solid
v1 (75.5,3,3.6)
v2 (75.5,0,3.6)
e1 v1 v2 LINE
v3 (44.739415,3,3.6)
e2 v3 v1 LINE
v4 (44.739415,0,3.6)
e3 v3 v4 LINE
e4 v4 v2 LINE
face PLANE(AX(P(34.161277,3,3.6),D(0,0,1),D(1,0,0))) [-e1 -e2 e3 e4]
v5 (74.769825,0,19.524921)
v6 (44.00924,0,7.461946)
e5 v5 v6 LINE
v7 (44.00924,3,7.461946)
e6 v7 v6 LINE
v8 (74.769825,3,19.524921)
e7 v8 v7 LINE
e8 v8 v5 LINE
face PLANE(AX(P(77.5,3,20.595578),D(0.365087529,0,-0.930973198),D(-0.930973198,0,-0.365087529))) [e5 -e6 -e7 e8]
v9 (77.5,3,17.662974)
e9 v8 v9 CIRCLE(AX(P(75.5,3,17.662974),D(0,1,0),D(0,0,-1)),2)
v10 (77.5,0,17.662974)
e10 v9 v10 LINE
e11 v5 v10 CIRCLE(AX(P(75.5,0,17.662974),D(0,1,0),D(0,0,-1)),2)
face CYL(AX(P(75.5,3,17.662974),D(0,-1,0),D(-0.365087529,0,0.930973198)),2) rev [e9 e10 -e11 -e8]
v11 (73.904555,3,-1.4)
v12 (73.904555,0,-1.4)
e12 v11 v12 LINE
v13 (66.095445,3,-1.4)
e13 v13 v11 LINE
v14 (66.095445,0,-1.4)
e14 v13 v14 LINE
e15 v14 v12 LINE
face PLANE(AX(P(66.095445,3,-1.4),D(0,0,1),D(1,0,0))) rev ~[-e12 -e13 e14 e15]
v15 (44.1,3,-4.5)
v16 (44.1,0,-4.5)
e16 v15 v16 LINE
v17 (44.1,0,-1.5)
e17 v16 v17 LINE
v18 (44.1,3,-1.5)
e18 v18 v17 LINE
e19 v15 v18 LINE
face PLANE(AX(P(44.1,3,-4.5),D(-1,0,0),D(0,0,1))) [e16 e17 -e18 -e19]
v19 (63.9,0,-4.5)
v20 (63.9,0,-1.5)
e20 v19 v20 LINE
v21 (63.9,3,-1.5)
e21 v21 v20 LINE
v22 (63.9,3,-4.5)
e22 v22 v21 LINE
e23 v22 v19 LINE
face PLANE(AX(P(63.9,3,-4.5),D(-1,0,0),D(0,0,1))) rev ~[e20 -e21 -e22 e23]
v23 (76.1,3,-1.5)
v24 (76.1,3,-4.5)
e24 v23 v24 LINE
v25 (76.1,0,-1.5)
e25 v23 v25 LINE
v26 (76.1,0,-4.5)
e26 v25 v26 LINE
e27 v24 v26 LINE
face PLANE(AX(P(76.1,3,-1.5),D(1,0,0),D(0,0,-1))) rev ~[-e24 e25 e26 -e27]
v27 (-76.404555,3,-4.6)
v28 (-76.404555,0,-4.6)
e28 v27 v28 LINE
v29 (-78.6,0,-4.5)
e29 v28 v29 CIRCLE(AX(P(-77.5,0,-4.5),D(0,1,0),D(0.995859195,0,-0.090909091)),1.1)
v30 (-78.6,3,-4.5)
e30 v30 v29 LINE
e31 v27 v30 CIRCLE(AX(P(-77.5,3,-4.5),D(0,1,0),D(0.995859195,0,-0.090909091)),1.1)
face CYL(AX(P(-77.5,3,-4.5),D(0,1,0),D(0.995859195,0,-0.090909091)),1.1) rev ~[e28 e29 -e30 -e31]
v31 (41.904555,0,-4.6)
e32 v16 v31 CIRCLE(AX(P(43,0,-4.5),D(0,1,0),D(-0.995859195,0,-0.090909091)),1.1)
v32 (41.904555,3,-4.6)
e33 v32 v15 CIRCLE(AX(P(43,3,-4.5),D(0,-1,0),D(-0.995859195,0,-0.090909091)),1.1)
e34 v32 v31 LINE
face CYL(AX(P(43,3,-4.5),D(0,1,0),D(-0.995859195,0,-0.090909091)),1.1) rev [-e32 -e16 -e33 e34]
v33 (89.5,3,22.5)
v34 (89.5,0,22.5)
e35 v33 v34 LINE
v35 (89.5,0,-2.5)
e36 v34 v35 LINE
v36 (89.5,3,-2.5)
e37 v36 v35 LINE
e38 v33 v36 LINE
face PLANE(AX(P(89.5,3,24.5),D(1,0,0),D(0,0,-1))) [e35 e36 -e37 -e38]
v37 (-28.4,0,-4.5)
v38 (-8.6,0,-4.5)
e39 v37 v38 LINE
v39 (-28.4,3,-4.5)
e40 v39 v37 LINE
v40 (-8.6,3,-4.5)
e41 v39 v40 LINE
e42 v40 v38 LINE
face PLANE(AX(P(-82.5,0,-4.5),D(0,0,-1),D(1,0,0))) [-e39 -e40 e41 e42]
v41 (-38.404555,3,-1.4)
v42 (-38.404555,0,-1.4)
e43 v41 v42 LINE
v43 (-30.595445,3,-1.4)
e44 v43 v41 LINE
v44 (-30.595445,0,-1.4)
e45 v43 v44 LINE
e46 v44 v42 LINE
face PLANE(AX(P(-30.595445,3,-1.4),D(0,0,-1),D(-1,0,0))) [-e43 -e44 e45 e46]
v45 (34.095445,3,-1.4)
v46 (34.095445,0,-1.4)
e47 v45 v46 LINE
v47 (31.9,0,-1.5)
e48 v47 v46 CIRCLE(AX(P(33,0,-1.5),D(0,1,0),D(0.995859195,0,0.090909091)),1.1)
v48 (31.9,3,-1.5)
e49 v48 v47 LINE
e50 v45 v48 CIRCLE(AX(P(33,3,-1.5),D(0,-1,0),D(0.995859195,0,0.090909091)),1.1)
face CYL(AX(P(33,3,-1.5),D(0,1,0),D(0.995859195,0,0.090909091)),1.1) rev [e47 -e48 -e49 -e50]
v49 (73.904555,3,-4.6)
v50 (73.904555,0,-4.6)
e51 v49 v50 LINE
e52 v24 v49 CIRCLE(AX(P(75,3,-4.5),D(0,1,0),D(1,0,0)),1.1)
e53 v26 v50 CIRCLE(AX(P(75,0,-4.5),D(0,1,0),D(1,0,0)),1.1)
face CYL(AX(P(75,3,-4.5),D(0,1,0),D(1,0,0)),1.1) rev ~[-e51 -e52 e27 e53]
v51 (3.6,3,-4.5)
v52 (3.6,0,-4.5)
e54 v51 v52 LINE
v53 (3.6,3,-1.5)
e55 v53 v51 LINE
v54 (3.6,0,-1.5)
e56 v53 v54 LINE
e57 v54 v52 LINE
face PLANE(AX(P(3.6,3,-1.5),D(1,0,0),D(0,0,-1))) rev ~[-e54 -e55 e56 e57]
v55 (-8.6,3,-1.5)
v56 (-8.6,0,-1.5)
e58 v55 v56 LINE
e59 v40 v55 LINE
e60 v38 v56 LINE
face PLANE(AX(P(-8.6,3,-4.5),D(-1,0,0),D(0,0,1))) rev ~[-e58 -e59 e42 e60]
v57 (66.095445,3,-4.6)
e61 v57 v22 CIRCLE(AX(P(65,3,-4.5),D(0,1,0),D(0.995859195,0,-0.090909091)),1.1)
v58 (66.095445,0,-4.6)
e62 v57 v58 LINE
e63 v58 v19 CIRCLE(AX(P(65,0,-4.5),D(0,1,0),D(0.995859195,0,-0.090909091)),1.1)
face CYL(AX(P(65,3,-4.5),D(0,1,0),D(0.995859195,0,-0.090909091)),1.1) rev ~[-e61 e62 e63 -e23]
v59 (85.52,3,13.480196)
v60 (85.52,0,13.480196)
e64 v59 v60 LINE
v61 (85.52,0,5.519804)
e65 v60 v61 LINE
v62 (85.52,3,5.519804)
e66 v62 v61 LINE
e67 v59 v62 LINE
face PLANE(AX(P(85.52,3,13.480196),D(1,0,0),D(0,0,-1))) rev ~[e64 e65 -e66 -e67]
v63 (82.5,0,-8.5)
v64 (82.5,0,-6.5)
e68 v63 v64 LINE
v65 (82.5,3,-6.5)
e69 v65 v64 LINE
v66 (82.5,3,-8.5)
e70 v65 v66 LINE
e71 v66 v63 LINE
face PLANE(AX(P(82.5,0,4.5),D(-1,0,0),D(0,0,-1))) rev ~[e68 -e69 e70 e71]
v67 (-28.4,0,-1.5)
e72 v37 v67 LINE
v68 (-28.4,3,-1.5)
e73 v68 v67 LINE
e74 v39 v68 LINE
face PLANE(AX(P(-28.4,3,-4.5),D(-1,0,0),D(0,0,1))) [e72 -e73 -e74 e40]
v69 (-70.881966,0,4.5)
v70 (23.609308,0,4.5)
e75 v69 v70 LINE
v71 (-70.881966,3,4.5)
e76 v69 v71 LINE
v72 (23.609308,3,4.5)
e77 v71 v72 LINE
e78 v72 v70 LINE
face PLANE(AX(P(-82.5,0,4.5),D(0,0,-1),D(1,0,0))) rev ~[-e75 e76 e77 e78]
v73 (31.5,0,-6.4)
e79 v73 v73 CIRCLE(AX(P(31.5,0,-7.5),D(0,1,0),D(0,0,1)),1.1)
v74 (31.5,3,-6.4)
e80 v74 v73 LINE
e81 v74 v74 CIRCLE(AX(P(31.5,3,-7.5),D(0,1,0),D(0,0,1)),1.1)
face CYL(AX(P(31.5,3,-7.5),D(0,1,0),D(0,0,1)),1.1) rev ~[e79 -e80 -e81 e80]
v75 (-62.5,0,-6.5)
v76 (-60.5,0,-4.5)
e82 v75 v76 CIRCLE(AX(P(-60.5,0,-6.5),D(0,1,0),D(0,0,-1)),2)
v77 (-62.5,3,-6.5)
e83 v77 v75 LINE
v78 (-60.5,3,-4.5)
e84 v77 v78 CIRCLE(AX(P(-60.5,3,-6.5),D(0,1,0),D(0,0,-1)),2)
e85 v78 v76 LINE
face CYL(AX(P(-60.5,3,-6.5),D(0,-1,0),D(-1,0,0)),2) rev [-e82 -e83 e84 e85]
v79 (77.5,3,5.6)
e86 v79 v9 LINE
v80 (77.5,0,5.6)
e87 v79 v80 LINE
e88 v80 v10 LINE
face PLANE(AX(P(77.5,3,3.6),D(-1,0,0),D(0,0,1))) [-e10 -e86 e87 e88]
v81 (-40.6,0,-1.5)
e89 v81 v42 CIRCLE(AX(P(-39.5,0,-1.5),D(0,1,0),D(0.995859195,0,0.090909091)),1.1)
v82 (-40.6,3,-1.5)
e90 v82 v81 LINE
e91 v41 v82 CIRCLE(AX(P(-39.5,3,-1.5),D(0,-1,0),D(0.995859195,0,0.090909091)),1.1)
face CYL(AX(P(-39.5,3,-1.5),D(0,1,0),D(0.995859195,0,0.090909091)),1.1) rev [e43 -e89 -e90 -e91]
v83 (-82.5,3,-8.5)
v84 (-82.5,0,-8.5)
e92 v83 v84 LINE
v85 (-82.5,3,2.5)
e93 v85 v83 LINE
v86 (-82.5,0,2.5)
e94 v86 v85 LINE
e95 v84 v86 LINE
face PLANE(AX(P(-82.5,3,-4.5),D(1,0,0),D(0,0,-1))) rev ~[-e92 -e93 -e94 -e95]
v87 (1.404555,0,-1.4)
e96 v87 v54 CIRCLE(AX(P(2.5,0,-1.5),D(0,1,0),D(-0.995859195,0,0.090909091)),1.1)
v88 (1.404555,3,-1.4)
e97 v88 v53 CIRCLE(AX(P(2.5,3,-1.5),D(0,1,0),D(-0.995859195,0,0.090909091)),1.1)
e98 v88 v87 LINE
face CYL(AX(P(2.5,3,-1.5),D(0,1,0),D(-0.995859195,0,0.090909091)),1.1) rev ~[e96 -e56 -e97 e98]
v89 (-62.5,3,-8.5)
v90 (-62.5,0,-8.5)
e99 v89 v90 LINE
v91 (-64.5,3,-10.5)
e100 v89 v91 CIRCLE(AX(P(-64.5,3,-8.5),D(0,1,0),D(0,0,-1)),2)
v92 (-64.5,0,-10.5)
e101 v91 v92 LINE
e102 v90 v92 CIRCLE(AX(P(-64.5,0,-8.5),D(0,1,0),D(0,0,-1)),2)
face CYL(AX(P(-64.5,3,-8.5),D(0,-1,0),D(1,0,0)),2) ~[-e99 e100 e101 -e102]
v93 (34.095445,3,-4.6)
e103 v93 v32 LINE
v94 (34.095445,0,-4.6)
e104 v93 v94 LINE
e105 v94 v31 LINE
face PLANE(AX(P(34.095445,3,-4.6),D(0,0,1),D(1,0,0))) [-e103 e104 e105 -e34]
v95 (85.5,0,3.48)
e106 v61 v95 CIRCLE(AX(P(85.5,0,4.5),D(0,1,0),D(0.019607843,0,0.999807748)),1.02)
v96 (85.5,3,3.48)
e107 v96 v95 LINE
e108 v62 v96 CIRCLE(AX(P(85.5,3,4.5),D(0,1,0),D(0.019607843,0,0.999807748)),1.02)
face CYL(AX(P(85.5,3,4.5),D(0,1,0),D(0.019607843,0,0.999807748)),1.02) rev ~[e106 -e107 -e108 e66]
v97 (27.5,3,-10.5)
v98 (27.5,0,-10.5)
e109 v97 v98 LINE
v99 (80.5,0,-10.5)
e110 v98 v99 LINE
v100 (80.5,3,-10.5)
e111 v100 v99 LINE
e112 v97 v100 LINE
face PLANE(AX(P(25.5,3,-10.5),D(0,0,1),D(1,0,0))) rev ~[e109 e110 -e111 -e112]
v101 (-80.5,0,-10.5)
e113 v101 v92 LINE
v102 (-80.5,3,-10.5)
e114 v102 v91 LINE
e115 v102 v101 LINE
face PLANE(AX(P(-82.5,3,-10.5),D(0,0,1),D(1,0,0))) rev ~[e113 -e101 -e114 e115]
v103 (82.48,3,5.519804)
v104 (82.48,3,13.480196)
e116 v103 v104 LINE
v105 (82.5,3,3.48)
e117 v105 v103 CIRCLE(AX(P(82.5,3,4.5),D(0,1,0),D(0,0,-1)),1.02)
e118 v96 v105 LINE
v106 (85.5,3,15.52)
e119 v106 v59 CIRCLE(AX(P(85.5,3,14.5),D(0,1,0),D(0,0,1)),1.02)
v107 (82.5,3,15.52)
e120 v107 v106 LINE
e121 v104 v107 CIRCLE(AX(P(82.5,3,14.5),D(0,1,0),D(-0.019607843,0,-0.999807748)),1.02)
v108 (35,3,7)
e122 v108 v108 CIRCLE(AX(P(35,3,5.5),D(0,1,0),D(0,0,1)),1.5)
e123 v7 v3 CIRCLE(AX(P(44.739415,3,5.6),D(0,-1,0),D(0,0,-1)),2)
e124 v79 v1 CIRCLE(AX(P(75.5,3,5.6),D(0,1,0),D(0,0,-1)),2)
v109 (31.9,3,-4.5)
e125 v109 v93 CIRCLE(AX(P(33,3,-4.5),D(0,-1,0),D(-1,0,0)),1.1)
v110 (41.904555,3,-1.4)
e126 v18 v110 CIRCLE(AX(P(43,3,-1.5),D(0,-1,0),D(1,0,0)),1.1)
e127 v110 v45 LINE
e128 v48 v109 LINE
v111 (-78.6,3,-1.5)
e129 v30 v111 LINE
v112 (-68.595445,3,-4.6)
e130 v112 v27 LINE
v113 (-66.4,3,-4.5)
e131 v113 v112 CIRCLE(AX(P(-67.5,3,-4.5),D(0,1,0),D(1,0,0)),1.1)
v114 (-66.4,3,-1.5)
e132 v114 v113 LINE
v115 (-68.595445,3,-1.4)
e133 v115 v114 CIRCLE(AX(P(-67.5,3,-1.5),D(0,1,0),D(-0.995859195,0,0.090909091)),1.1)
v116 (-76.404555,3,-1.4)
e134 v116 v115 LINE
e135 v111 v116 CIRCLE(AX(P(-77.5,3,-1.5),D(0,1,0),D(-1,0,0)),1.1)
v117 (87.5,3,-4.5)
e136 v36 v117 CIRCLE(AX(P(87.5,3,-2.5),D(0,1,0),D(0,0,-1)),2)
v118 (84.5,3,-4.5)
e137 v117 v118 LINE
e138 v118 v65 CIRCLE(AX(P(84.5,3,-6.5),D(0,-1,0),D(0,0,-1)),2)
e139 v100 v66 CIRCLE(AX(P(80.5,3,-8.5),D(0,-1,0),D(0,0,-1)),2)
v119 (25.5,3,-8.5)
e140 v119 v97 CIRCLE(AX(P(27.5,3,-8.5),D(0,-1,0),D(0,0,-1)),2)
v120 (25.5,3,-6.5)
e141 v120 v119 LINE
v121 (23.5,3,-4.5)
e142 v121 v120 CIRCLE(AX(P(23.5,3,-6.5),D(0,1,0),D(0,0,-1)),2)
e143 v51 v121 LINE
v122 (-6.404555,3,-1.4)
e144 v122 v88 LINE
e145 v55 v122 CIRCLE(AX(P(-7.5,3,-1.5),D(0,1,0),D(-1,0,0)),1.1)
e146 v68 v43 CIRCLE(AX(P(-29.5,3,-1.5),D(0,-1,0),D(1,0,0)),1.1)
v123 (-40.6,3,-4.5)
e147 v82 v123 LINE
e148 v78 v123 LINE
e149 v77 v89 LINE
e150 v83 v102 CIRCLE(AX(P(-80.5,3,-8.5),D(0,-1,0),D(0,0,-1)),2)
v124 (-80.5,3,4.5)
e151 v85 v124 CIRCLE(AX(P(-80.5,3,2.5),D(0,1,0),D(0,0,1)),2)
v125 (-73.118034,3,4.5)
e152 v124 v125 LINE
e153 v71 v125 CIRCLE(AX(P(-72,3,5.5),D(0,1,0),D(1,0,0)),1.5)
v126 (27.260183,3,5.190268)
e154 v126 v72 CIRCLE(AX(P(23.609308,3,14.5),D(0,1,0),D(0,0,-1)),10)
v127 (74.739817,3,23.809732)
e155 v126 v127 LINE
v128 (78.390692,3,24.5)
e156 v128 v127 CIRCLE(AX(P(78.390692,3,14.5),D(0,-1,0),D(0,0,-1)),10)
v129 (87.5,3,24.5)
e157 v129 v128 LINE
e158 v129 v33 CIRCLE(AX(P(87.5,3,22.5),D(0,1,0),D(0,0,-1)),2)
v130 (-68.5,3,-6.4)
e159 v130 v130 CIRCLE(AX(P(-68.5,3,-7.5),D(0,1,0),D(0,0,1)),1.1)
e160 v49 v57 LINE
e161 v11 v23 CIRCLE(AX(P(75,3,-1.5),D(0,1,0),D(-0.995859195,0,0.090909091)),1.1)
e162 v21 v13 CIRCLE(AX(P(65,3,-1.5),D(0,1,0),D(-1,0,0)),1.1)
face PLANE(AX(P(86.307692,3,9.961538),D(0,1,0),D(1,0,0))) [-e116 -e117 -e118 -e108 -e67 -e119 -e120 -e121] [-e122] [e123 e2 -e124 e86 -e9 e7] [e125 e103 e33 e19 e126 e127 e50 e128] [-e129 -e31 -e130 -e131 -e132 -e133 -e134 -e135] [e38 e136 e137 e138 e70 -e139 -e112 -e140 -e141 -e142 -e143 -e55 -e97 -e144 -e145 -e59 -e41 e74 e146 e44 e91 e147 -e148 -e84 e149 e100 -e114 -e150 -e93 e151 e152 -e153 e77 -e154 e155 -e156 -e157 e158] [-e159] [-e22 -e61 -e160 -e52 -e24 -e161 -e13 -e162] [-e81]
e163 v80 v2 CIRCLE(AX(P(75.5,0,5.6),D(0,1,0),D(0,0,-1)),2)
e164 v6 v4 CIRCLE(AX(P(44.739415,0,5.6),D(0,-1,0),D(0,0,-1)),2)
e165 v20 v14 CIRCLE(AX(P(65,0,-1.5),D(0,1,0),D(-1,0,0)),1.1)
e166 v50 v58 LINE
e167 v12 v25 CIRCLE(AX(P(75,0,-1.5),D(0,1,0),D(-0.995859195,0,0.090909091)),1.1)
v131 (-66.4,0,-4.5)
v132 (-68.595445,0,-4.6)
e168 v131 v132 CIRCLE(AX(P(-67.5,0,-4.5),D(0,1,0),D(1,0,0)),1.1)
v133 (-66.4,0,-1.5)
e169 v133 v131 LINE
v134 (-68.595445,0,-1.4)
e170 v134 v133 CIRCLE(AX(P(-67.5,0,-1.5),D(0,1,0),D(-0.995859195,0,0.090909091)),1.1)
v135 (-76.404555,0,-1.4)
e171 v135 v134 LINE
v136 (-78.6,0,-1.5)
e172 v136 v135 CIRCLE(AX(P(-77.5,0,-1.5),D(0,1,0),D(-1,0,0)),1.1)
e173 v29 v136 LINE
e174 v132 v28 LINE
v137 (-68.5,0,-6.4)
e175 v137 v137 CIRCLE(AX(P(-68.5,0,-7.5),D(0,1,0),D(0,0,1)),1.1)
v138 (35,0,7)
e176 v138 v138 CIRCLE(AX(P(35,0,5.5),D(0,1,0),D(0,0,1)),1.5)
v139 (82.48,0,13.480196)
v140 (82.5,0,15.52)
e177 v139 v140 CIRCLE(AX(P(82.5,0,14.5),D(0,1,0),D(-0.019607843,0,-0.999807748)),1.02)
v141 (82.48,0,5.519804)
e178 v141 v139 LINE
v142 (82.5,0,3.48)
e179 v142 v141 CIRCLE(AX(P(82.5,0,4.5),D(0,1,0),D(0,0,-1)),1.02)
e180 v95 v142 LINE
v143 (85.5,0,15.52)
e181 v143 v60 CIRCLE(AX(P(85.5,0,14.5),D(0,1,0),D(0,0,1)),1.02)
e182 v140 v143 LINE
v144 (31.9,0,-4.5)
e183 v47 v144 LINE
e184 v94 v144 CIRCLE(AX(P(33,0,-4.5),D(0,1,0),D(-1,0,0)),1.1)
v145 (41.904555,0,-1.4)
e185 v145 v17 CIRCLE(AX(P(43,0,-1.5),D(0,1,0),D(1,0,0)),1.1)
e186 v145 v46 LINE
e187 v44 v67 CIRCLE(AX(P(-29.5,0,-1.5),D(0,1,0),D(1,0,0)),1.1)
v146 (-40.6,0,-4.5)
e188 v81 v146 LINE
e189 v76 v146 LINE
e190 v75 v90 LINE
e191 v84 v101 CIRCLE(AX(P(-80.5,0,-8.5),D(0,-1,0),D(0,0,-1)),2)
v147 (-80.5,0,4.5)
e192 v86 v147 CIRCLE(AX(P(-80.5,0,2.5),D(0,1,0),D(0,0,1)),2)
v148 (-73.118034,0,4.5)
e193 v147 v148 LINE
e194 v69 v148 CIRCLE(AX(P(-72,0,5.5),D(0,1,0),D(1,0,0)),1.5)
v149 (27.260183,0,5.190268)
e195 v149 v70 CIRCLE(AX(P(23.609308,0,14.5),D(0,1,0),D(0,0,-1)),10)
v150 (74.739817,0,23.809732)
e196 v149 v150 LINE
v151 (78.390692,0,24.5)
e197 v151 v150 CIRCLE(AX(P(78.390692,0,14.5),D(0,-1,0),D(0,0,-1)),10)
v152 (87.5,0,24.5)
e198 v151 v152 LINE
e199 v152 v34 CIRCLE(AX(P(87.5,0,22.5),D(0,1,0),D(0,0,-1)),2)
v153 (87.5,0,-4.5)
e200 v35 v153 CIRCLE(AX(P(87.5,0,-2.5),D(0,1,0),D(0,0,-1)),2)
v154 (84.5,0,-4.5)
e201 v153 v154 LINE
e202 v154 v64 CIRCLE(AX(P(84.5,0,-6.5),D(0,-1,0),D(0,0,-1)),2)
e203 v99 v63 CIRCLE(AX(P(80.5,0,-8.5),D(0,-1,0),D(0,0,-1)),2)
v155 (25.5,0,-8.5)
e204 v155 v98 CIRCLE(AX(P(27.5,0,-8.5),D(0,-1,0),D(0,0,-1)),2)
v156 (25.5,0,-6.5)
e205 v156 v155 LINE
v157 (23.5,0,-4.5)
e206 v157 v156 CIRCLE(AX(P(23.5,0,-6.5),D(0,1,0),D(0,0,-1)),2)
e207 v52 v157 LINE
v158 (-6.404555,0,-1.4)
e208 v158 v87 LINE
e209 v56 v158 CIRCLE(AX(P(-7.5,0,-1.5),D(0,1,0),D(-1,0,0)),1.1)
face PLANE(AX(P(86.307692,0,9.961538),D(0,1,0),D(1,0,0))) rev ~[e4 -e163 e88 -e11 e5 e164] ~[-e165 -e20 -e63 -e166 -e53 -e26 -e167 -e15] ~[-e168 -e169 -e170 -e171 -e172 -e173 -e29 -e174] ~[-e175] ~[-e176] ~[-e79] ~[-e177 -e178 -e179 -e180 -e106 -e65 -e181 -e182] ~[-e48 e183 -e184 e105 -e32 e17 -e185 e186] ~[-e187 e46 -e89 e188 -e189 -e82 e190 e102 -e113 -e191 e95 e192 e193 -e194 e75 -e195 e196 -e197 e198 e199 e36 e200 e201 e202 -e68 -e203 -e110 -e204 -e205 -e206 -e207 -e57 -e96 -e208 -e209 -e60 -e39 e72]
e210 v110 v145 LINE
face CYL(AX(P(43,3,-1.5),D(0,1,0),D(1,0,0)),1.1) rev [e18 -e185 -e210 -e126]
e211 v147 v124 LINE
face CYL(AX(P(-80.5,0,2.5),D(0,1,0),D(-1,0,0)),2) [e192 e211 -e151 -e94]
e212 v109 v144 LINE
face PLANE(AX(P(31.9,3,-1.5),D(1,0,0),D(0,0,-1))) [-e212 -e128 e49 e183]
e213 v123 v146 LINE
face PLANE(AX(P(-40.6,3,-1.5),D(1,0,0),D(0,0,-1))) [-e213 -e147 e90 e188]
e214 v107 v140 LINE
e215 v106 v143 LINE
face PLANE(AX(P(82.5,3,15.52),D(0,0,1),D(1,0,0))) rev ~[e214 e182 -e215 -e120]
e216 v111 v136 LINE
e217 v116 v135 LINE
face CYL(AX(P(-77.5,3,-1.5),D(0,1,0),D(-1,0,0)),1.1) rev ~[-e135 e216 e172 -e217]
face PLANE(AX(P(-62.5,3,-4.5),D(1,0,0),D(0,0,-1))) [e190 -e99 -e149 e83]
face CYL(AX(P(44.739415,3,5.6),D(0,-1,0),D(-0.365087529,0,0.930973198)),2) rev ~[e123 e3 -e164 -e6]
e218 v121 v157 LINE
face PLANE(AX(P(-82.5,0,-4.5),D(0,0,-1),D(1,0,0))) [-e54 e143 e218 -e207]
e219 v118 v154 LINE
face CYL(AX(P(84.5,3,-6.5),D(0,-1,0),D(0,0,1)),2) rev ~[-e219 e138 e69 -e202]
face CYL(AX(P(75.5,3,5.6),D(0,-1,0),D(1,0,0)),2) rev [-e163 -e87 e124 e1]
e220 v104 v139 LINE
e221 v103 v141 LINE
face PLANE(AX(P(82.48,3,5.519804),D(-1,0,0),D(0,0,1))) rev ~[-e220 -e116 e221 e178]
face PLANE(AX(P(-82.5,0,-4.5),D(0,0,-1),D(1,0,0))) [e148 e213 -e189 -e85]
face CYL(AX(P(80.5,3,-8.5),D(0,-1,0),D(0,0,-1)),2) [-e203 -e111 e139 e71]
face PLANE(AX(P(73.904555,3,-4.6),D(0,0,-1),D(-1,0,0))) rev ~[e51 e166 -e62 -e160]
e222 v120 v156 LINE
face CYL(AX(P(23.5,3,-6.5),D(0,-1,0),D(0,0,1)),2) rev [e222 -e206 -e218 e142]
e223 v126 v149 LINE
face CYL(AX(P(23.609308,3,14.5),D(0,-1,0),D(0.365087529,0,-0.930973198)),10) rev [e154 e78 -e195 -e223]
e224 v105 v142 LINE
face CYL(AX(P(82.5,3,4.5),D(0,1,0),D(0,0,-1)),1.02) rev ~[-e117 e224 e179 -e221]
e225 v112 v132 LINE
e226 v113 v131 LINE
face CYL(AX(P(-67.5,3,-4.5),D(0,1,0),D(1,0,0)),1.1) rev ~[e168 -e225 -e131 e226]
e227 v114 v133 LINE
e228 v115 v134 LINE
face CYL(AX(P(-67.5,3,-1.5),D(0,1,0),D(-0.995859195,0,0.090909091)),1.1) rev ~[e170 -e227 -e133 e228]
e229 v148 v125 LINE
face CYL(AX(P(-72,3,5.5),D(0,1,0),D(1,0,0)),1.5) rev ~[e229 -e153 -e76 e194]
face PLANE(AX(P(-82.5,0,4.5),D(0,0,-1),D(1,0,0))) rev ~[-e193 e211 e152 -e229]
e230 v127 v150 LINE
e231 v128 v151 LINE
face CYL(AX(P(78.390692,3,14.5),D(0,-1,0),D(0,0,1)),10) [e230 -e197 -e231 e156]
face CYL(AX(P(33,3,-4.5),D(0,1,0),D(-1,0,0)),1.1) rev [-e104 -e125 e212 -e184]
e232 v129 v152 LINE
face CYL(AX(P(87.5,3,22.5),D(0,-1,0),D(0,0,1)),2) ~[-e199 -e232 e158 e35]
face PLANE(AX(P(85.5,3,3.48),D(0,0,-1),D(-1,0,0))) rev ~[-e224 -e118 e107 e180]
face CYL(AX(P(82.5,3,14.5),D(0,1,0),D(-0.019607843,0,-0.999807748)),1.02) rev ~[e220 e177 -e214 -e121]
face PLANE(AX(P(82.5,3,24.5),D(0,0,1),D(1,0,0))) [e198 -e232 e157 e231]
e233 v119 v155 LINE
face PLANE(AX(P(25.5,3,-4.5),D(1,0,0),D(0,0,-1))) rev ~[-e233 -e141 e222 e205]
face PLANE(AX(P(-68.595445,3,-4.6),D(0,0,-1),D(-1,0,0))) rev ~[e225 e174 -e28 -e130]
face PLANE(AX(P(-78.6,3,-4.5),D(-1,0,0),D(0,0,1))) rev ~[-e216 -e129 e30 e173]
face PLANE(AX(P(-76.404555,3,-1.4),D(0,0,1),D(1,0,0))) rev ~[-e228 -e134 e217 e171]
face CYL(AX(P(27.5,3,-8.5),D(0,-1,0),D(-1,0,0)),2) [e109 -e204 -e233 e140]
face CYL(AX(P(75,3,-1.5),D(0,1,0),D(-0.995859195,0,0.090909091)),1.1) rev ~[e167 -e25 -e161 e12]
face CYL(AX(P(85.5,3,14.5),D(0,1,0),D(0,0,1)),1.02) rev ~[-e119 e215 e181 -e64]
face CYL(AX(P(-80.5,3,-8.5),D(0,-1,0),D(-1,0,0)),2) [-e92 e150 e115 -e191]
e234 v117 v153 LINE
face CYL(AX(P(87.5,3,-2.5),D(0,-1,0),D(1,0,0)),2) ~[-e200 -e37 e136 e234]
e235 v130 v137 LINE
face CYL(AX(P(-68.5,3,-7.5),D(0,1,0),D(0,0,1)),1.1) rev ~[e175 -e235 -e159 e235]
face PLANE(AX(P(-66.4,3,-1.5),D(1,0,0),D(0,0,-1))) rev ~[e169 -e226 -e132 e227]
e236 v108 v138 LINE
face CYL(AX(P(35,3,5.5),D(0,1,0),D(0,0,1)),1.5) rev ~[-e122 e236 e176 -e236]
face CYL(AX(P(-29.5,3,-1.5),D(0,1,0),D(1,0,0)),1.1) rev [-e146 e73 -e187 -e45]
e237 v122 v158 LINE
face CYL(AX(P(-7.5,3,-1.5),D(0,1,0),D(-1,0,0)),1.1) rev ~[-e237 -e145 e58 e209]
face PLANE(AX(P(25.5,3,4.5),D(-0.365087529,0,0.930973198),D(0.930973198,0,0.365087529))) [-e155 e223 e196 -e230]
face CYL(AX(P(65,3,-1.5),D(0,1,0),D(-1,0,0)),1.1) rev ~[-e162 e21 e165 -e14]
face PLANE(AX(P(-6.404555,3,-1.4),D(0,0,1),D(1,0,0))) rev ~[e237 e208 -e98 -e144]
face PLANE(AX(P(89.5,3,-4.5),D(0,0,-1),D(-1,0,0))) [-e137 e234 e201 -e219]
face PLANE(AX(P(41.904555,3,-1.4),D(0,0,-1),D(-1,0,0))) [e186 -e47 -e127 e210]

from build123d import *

# Parameters (mm, degrees)
SKETCH_1_W             = 165
SKETCH_1_H             = 9
EXTRUDE_1_DEPTH        = 3
SKETCH_2_W             = 20
SKETCH_2_H             = 6
SKETCH_2_W_2           = 57
EXTRUDE_2_DEPTH        = 3
FILLET_1_R             = 2
SKETCH_3_W             = 12
SKETCH_3_H             = 3
CUT_EXTRUDE_1_DEPTH    = 87.113297463
SKETCH_5_R             = 1
CUT_EXTRUDE_3_DEPTH    = 87.113297463
EXTRUDE_4_DEPTH        = 3
SKETCH_10_R            = 1
CUT_EXTRUDE_5_DEPTH    = 93.841262378
CUT_EXTRUDE_6415_DEPTH = 93.841262378
FILLET_2_R             = 2
FILLET_3_R             = 10
CUT_EXTRUDE_6_DEPTH    = 93.841262378
FILLET_4_R             = 2
SKETCH_12_R            = 1.1
SKETCH_12_R_2          = 1.5
CUT_EXTRUDE_7_DEPTH    = 93.841262378


with BuildPart() as part:
    # 草图1 → 凸台-拉伸1 (new body)
    with BuildSketch(Plane(origin=(0, 0, 0), x_dir=(1, 0, 0), z_dir=(0, 1, 0))):
        Rectangle(SKETCH_1_W, SKETCH_1_H)
    extrude(amount=EXTRUDE_1_DEPTH)

    # 草图2 → 凸台-拉伸2 (add)
    with BuildSketch(Plane(origin=(0, 3, 0), x_dir=(1, 0, 0), z_dir=(0, 1, 0))):
        with Locations((-72.5, 7.5)):
            Rectangle(SKETCH_2_W, SKETCH_2_H)
        Polygon((82.5, -24.5), (82.5, -4.5), (25.5, -4.5), (76.5, -24.5), align=None)
        with Locations((54, 7.5)):
            Rectangle(SKETCH_2_W_2, SKETCH_2_H)
    extrude(amount=-EXTRUDE_2_DEPTH)

    # 圆角1
    fillet_1_edges = [part.edges().sort_by_distance(p)[0] for p in [
        (-82.5, 1.5, -10.5),
        (-62.5, 1.5, -10.5),
        (-62.5, 1.5, -4.5),
        (82.5, 1.5, -10.5),
        (25.5, 1.5, -4.5),
        (25.5, 1.5, -10.5),
        (-82.5, 1.5, 4.5),
    ]]
    fillet(fillet_1_edges, radius=FILLET_1_R)

    # 草图3 → 切除-拉伸1 (cut, through all)
    with BuildSketch(Plane(origin=(0, 3, 0), x_dir=(1, 0, 0), z_dir=(0, 1, 0))):
        with Locations((-72.5, 3)):
            Rectangle(SKETCH_3_W, SKETCH_3_H)
        with Locations((-34.5, 3)):
            Rectangle(SKETCH_3_W, SKETCH_3_H)
        with Locations((-2.5, 3)):
            Rectangle(SKETCH_3_W, SKETCH_3_H)
        with Locations((38, 3)):
            Rectangle(SKETCH_3_W, SKETCH_3_H)
        with Locations((70, 3)):
            Rectangle(SKETCH_3_W, SKETCH_3_H)
    extrude(amount=-CUT_EXTRUDE_1_DEPTH, mode=Mode.SUBTRACT)

    # 草图5 → 切除-拉伸3 (cut, through all)
    with BuildSketch(Plane(origin=(0, 3, 0), x_dir=(1, 0, 0), z_dir=(0, 1, 0))):
        with Locations((-67.5, 4.5)):
            Circle(SKETCH_5_R)
        with Locations((-67.5, 1.5)):
            Circle(SKETCH_5_R)
        with Locations((-77.5, 1.5)):
            Circle(SKETCH_5_R)
        with Locations((-77.5, 4.5)):
            Circle(SKETCH_5_R)
        with Locations((-29.5, 1.5)):
            Circle(SKETCH_5_R)
        with Locations((-39.5, 1.5)):
            Circle(SKETCH_5_R)
        with Locations((2.5, 1.5)):
            Circle(SKETCH_5_R)
        with Locations((-7.5, 1.5)):
            Circle(SKETCH_5_R)
        with Locations((33, 1.5)):
            Circle(SKETCH_5_R)
        with Locations((43, 1.5)):
            Circle(SKETCH_5_R)
        with Locations((43, 4.5)):
            Circle(SKETCH_5_R)
        with Locations((33, 4.5)):
            Circle(SKETCH_5_R)
        with Locations((75, 4.5)):
            Circle(SKETCH_5_R)
        with Locations((65, 4.5)):
            Circle(SKETCH_5_R)
        with Locations((65, 1.5)):
            Circle(SKETCH_5_R)
        with Locations((75, 1.5)):
            Circle(SKETCH_5_R)
    extrude(amount=-CUT_EXTRUDE_3_DEPTH, mode=Mode.SUBTRACT)

    # 草图9 → 凸台-拉伸4 (add)
    with BuildSketch(Plane(origin=(0, 3, 0), x_dir=(1, 0, 0), z_dir=(0, 1, 0))):
        Polygon((82.5, -15.5), (82.5, -24.5), (89.5, -24.5), (89.5, 4.5), (82.5, 4.5), (82.5, -3.5), (85.5, -3.5), (85.5, -15.5), align=None)
    extrude(amount=-EXTRUDE_4_DEPTH)

    # 草图10 → 切除-拉伸5 (cut, through all)
    with BuildSketch(Plane(origin=(0, 3, 0), x_dir=(1, 0, 0), z_dir=(0, 1, 0))):
        with Locations((85.5, -4.5)):
            Circle(SKETCH_10_R)
        with Locations((85.5, -14.5)):
            Circle(SKETCH_10_R)
        with Locations((82.5, -14.5)):
            Circle(SKETCH_10_R)
        with Locations((82.5, -4.5)):
            Circle(SKETCH_10_R)
    extrude(amount=-CUT_EXTRUDE_5_DEPTH, mode=Mode.SUBTRACT)

    # 草图6 → Cut-Extrude 6415 (cut, through all)
    with BuildSketch(Plane(origin=(0, 3, 0), x_dir=(1, 0, 0), z_dir=(0, 1, 0))):
        with BuildLine():
            Line((-78.6, 4.5), (-78.6, 1.5))
            ThreePointArc((-78.6, 1.5), (-77.550051841, 0.401139311), (-76.404554885, 1.4))
            Line((-76.404554885, 1.4), (-68.595445115, 1.4))
            ThreePointArc((-68.595445115, 1.4), (-67.449948159, 0.401139311), (-66.4, 1.5))
            Line((-66.4, 1.5), (-66.4, 4.5))
            ThreePointArc((-66.4, 4.5), (-67.449948159, 5.598860689), (-68.595445115, 4.6))
            Line((-68.595445115, 4.6), (-76.404554885, 4.6))
            ThreePointArc((-76.404554885, 4.6), (-77.550051841, 5.598860689), (-78.6, 4.5))
        make_face()
        with BuildLine():
            Line((34.095445115, 4.6), (41.904554885, 4.6))
            ThreePointArc((41.904554885, 4.6), (43.050051841, 5.598860689), (44.1, 4.5))
            Line((44.1, 4.5), (44.1, 1.5))
            ThreePointArc((44.1, 1.5), (43.050051841, 0.401139311), (41.904554885, 1.4))
            Line((41.904554885, 1.4), (34.095445115, 1.4))
            ThreePointArc((34.095445115, 1.4), (32.949948159, 0.401139311), (31.9, 1.5))
            Line((31.9, 1.5), (31.9, 4.5))
            ThreePointArc((31.9, 4.5), (32.949948159, 5.598860689), (34.095445115, 4.6))
        make_face()
        with BuildLine():
            Line((63.9, 4.5), (63.9, 1.5))
            ThreePointArc((63.9, 1.5), (64.949948159, 0.401139311), (66.095445115, 1.4))
            Line((66.095445115, 1.4), (73.904554885, 1.4))
            ThreePointArc((73.904554885, 1.4), (75.050051841, 0.401139311), (76.1, 1.5))
            Line((76.1, 1.5), (76.1, 4.5))
            ThreePointArc((76.1, 4.5), (75.050051841, 5.598860689), (73.904554885, 4.6))
            Line((73.904554885, 4.6), (66.095445115, 4.6))
            ThreePointArc((66.095445115, 4.6), (64.949948159, 5.598860689), (63.9, 4.5))
        make_face()
        with BuildLine():
            Line((-38.404554885, 4.6), (-30.595445115, 4.6))
            ThreePointArc((-30.595445115, 4.6), (-29.449948159, 5.598860689), (-28.4, 4.5))
            Line((-28.4, 4.5), (-28.4, 1.5))
            ThreePointArc((-28.4, 1.5), (-29.449948159, 0.401139311), (-30.595445115, 1.4))
            Line((-30.595445115, 1.4), (-38.404554885, 1.4))
            ThreePointArc((-38.404554885, 1.4), (-39.550051841, 0.401139311), (-40.6, 1.5))
            Line((-40.6, 1.5), (-40.6, 4.5))
            ThreePointArc((-40.6, 4.5), (-39.550051841, 5.598860689), (-38.404554885, 4.6))
        make_face()
        with BuildLine():
            Line((-8.6, 4.5), (-8.6, 1.5))
            ThreePointArc((-8.6, 1.5), (-7.550051841, 0.401139311), (-6.404554885, 1.4))
            Line((-6.404554885, 1.4), (1.404554885, 1.4))
            ThreePointArc((1.404554885, 1.4), (2.550051841, 0.401139311), (3.6, 1.5))
            Line((3.6, 1.5), (3.6, 4.5))
            ThreePointArc((3.6, 4.5), (2.550051841, 5.598860689), (1.404554885, 4.6))
            Line((1.404554885, 4.6), (-6.404554885, 4.6))
            ThreePointArc((-6.404554885, 4.6), (-7.550051841, 5.598860689), (-8.6, 4.5))
        make_face()
        with BuildLine():
            Line((82.48, -5.519803903), (82.48, -13.480196097))
            ThreePointArc((82.48, -13.480196097), (81.480049025, -14.510000481), (82.5, -15.52))
            Line((82.5, -15.52), (85.5, -15.52))
            ThreePointArc((85.5, -15.52), (86.519950975, -14.510000481), (85.52, -13.480196097))
            Line((85.52, -13.480196097), (85.52, -5.519803903))
            ThreePointArc((85.52, -5.519803903), (86.519950975, -4.489999519), (85.5, -3.48))
            Line((85.5, -3.48), (82.5, -3.48))
            ThreePointArc((82.5, -3.48), (81.480049025, -4.489999519), (82.48, -5.519803903))
        make_face()
    extrude(amount=-CUT_EXTRUDE_6415_DEPTH, mode=Mode.SUBTRACT)

    # 圆角2
    fillet_2_edges = [part.edges().sort_by_distance(p)[0] for p in [
        (89.5, 1.5, 24.5),
        (89.5, 1.5, -4.5),
        (82.5, 1.5, -4.5),
    ]]
    fillet(fillet_2_edges, radius=FILLET_2_R)

    # 圆角3
    fillet_3_edges = [part.edges().sort_by_distance(p)[0] for p in [
        (76.5, 1.5, 24.5),
        (25.5, 1.5, 4.5),
    ]]
    fillet(fillet_3_edges, radius=FILLET_3_R)

    # 草图11 → 切除-拉伸6 (cut, through all)
    with BuildSketch(Plane(origin=(0, 3, 0), x_dir=(1, 0, 0), z_dir=(0, 1, 0))):
        Polygon((34.16127674, -3.6), (77.5, -3.6), (77.5, -20.595577749), align=None)
    extrude(amount=-CUT_EXTRUDE_6_DEPTH, mode=Mode.SUBTRACT)

    # 圆角4
    fillet_4_edges = [part.edges().sort_by_distance(p)[0] for p in [
        (77.5, 1.5, 20.595577749),
        (34.16127674, 1.5, 3.6),
        (77.5, 1.5, 3.6),
    ]]
    fillet(fillet_4_edges, radius=FILLET_4_R)

    # 草图12 → 切除-拉伸7 (cut, through all)
    with BuildSketch(Plane(origin=(0, 3, 0), x_dir=(1, 0, 0), z_dir=(0, 1, 0))):
        with Locations(Location((-68.5, 7.5, 0), (0, 0, 270))):
            Circle(SKETCH_12_R)
        with Locations(Location((31.5, 7.5, 0), (0, 0, 270))):
            Circle(SKETCH_12_R)
        with Locations(Location((35, -5.5, 0), (0, 0, 270))):
            Circle(SKETCH_12_R_2)
        with Locations((-72, -5.5)):
            Circle(SKETCH_12_R_2)
    extrude(amount=-CUT_EXTRUDE_7_DEPTH, mode=Mode.SUBTRACT)


solid = part.part
